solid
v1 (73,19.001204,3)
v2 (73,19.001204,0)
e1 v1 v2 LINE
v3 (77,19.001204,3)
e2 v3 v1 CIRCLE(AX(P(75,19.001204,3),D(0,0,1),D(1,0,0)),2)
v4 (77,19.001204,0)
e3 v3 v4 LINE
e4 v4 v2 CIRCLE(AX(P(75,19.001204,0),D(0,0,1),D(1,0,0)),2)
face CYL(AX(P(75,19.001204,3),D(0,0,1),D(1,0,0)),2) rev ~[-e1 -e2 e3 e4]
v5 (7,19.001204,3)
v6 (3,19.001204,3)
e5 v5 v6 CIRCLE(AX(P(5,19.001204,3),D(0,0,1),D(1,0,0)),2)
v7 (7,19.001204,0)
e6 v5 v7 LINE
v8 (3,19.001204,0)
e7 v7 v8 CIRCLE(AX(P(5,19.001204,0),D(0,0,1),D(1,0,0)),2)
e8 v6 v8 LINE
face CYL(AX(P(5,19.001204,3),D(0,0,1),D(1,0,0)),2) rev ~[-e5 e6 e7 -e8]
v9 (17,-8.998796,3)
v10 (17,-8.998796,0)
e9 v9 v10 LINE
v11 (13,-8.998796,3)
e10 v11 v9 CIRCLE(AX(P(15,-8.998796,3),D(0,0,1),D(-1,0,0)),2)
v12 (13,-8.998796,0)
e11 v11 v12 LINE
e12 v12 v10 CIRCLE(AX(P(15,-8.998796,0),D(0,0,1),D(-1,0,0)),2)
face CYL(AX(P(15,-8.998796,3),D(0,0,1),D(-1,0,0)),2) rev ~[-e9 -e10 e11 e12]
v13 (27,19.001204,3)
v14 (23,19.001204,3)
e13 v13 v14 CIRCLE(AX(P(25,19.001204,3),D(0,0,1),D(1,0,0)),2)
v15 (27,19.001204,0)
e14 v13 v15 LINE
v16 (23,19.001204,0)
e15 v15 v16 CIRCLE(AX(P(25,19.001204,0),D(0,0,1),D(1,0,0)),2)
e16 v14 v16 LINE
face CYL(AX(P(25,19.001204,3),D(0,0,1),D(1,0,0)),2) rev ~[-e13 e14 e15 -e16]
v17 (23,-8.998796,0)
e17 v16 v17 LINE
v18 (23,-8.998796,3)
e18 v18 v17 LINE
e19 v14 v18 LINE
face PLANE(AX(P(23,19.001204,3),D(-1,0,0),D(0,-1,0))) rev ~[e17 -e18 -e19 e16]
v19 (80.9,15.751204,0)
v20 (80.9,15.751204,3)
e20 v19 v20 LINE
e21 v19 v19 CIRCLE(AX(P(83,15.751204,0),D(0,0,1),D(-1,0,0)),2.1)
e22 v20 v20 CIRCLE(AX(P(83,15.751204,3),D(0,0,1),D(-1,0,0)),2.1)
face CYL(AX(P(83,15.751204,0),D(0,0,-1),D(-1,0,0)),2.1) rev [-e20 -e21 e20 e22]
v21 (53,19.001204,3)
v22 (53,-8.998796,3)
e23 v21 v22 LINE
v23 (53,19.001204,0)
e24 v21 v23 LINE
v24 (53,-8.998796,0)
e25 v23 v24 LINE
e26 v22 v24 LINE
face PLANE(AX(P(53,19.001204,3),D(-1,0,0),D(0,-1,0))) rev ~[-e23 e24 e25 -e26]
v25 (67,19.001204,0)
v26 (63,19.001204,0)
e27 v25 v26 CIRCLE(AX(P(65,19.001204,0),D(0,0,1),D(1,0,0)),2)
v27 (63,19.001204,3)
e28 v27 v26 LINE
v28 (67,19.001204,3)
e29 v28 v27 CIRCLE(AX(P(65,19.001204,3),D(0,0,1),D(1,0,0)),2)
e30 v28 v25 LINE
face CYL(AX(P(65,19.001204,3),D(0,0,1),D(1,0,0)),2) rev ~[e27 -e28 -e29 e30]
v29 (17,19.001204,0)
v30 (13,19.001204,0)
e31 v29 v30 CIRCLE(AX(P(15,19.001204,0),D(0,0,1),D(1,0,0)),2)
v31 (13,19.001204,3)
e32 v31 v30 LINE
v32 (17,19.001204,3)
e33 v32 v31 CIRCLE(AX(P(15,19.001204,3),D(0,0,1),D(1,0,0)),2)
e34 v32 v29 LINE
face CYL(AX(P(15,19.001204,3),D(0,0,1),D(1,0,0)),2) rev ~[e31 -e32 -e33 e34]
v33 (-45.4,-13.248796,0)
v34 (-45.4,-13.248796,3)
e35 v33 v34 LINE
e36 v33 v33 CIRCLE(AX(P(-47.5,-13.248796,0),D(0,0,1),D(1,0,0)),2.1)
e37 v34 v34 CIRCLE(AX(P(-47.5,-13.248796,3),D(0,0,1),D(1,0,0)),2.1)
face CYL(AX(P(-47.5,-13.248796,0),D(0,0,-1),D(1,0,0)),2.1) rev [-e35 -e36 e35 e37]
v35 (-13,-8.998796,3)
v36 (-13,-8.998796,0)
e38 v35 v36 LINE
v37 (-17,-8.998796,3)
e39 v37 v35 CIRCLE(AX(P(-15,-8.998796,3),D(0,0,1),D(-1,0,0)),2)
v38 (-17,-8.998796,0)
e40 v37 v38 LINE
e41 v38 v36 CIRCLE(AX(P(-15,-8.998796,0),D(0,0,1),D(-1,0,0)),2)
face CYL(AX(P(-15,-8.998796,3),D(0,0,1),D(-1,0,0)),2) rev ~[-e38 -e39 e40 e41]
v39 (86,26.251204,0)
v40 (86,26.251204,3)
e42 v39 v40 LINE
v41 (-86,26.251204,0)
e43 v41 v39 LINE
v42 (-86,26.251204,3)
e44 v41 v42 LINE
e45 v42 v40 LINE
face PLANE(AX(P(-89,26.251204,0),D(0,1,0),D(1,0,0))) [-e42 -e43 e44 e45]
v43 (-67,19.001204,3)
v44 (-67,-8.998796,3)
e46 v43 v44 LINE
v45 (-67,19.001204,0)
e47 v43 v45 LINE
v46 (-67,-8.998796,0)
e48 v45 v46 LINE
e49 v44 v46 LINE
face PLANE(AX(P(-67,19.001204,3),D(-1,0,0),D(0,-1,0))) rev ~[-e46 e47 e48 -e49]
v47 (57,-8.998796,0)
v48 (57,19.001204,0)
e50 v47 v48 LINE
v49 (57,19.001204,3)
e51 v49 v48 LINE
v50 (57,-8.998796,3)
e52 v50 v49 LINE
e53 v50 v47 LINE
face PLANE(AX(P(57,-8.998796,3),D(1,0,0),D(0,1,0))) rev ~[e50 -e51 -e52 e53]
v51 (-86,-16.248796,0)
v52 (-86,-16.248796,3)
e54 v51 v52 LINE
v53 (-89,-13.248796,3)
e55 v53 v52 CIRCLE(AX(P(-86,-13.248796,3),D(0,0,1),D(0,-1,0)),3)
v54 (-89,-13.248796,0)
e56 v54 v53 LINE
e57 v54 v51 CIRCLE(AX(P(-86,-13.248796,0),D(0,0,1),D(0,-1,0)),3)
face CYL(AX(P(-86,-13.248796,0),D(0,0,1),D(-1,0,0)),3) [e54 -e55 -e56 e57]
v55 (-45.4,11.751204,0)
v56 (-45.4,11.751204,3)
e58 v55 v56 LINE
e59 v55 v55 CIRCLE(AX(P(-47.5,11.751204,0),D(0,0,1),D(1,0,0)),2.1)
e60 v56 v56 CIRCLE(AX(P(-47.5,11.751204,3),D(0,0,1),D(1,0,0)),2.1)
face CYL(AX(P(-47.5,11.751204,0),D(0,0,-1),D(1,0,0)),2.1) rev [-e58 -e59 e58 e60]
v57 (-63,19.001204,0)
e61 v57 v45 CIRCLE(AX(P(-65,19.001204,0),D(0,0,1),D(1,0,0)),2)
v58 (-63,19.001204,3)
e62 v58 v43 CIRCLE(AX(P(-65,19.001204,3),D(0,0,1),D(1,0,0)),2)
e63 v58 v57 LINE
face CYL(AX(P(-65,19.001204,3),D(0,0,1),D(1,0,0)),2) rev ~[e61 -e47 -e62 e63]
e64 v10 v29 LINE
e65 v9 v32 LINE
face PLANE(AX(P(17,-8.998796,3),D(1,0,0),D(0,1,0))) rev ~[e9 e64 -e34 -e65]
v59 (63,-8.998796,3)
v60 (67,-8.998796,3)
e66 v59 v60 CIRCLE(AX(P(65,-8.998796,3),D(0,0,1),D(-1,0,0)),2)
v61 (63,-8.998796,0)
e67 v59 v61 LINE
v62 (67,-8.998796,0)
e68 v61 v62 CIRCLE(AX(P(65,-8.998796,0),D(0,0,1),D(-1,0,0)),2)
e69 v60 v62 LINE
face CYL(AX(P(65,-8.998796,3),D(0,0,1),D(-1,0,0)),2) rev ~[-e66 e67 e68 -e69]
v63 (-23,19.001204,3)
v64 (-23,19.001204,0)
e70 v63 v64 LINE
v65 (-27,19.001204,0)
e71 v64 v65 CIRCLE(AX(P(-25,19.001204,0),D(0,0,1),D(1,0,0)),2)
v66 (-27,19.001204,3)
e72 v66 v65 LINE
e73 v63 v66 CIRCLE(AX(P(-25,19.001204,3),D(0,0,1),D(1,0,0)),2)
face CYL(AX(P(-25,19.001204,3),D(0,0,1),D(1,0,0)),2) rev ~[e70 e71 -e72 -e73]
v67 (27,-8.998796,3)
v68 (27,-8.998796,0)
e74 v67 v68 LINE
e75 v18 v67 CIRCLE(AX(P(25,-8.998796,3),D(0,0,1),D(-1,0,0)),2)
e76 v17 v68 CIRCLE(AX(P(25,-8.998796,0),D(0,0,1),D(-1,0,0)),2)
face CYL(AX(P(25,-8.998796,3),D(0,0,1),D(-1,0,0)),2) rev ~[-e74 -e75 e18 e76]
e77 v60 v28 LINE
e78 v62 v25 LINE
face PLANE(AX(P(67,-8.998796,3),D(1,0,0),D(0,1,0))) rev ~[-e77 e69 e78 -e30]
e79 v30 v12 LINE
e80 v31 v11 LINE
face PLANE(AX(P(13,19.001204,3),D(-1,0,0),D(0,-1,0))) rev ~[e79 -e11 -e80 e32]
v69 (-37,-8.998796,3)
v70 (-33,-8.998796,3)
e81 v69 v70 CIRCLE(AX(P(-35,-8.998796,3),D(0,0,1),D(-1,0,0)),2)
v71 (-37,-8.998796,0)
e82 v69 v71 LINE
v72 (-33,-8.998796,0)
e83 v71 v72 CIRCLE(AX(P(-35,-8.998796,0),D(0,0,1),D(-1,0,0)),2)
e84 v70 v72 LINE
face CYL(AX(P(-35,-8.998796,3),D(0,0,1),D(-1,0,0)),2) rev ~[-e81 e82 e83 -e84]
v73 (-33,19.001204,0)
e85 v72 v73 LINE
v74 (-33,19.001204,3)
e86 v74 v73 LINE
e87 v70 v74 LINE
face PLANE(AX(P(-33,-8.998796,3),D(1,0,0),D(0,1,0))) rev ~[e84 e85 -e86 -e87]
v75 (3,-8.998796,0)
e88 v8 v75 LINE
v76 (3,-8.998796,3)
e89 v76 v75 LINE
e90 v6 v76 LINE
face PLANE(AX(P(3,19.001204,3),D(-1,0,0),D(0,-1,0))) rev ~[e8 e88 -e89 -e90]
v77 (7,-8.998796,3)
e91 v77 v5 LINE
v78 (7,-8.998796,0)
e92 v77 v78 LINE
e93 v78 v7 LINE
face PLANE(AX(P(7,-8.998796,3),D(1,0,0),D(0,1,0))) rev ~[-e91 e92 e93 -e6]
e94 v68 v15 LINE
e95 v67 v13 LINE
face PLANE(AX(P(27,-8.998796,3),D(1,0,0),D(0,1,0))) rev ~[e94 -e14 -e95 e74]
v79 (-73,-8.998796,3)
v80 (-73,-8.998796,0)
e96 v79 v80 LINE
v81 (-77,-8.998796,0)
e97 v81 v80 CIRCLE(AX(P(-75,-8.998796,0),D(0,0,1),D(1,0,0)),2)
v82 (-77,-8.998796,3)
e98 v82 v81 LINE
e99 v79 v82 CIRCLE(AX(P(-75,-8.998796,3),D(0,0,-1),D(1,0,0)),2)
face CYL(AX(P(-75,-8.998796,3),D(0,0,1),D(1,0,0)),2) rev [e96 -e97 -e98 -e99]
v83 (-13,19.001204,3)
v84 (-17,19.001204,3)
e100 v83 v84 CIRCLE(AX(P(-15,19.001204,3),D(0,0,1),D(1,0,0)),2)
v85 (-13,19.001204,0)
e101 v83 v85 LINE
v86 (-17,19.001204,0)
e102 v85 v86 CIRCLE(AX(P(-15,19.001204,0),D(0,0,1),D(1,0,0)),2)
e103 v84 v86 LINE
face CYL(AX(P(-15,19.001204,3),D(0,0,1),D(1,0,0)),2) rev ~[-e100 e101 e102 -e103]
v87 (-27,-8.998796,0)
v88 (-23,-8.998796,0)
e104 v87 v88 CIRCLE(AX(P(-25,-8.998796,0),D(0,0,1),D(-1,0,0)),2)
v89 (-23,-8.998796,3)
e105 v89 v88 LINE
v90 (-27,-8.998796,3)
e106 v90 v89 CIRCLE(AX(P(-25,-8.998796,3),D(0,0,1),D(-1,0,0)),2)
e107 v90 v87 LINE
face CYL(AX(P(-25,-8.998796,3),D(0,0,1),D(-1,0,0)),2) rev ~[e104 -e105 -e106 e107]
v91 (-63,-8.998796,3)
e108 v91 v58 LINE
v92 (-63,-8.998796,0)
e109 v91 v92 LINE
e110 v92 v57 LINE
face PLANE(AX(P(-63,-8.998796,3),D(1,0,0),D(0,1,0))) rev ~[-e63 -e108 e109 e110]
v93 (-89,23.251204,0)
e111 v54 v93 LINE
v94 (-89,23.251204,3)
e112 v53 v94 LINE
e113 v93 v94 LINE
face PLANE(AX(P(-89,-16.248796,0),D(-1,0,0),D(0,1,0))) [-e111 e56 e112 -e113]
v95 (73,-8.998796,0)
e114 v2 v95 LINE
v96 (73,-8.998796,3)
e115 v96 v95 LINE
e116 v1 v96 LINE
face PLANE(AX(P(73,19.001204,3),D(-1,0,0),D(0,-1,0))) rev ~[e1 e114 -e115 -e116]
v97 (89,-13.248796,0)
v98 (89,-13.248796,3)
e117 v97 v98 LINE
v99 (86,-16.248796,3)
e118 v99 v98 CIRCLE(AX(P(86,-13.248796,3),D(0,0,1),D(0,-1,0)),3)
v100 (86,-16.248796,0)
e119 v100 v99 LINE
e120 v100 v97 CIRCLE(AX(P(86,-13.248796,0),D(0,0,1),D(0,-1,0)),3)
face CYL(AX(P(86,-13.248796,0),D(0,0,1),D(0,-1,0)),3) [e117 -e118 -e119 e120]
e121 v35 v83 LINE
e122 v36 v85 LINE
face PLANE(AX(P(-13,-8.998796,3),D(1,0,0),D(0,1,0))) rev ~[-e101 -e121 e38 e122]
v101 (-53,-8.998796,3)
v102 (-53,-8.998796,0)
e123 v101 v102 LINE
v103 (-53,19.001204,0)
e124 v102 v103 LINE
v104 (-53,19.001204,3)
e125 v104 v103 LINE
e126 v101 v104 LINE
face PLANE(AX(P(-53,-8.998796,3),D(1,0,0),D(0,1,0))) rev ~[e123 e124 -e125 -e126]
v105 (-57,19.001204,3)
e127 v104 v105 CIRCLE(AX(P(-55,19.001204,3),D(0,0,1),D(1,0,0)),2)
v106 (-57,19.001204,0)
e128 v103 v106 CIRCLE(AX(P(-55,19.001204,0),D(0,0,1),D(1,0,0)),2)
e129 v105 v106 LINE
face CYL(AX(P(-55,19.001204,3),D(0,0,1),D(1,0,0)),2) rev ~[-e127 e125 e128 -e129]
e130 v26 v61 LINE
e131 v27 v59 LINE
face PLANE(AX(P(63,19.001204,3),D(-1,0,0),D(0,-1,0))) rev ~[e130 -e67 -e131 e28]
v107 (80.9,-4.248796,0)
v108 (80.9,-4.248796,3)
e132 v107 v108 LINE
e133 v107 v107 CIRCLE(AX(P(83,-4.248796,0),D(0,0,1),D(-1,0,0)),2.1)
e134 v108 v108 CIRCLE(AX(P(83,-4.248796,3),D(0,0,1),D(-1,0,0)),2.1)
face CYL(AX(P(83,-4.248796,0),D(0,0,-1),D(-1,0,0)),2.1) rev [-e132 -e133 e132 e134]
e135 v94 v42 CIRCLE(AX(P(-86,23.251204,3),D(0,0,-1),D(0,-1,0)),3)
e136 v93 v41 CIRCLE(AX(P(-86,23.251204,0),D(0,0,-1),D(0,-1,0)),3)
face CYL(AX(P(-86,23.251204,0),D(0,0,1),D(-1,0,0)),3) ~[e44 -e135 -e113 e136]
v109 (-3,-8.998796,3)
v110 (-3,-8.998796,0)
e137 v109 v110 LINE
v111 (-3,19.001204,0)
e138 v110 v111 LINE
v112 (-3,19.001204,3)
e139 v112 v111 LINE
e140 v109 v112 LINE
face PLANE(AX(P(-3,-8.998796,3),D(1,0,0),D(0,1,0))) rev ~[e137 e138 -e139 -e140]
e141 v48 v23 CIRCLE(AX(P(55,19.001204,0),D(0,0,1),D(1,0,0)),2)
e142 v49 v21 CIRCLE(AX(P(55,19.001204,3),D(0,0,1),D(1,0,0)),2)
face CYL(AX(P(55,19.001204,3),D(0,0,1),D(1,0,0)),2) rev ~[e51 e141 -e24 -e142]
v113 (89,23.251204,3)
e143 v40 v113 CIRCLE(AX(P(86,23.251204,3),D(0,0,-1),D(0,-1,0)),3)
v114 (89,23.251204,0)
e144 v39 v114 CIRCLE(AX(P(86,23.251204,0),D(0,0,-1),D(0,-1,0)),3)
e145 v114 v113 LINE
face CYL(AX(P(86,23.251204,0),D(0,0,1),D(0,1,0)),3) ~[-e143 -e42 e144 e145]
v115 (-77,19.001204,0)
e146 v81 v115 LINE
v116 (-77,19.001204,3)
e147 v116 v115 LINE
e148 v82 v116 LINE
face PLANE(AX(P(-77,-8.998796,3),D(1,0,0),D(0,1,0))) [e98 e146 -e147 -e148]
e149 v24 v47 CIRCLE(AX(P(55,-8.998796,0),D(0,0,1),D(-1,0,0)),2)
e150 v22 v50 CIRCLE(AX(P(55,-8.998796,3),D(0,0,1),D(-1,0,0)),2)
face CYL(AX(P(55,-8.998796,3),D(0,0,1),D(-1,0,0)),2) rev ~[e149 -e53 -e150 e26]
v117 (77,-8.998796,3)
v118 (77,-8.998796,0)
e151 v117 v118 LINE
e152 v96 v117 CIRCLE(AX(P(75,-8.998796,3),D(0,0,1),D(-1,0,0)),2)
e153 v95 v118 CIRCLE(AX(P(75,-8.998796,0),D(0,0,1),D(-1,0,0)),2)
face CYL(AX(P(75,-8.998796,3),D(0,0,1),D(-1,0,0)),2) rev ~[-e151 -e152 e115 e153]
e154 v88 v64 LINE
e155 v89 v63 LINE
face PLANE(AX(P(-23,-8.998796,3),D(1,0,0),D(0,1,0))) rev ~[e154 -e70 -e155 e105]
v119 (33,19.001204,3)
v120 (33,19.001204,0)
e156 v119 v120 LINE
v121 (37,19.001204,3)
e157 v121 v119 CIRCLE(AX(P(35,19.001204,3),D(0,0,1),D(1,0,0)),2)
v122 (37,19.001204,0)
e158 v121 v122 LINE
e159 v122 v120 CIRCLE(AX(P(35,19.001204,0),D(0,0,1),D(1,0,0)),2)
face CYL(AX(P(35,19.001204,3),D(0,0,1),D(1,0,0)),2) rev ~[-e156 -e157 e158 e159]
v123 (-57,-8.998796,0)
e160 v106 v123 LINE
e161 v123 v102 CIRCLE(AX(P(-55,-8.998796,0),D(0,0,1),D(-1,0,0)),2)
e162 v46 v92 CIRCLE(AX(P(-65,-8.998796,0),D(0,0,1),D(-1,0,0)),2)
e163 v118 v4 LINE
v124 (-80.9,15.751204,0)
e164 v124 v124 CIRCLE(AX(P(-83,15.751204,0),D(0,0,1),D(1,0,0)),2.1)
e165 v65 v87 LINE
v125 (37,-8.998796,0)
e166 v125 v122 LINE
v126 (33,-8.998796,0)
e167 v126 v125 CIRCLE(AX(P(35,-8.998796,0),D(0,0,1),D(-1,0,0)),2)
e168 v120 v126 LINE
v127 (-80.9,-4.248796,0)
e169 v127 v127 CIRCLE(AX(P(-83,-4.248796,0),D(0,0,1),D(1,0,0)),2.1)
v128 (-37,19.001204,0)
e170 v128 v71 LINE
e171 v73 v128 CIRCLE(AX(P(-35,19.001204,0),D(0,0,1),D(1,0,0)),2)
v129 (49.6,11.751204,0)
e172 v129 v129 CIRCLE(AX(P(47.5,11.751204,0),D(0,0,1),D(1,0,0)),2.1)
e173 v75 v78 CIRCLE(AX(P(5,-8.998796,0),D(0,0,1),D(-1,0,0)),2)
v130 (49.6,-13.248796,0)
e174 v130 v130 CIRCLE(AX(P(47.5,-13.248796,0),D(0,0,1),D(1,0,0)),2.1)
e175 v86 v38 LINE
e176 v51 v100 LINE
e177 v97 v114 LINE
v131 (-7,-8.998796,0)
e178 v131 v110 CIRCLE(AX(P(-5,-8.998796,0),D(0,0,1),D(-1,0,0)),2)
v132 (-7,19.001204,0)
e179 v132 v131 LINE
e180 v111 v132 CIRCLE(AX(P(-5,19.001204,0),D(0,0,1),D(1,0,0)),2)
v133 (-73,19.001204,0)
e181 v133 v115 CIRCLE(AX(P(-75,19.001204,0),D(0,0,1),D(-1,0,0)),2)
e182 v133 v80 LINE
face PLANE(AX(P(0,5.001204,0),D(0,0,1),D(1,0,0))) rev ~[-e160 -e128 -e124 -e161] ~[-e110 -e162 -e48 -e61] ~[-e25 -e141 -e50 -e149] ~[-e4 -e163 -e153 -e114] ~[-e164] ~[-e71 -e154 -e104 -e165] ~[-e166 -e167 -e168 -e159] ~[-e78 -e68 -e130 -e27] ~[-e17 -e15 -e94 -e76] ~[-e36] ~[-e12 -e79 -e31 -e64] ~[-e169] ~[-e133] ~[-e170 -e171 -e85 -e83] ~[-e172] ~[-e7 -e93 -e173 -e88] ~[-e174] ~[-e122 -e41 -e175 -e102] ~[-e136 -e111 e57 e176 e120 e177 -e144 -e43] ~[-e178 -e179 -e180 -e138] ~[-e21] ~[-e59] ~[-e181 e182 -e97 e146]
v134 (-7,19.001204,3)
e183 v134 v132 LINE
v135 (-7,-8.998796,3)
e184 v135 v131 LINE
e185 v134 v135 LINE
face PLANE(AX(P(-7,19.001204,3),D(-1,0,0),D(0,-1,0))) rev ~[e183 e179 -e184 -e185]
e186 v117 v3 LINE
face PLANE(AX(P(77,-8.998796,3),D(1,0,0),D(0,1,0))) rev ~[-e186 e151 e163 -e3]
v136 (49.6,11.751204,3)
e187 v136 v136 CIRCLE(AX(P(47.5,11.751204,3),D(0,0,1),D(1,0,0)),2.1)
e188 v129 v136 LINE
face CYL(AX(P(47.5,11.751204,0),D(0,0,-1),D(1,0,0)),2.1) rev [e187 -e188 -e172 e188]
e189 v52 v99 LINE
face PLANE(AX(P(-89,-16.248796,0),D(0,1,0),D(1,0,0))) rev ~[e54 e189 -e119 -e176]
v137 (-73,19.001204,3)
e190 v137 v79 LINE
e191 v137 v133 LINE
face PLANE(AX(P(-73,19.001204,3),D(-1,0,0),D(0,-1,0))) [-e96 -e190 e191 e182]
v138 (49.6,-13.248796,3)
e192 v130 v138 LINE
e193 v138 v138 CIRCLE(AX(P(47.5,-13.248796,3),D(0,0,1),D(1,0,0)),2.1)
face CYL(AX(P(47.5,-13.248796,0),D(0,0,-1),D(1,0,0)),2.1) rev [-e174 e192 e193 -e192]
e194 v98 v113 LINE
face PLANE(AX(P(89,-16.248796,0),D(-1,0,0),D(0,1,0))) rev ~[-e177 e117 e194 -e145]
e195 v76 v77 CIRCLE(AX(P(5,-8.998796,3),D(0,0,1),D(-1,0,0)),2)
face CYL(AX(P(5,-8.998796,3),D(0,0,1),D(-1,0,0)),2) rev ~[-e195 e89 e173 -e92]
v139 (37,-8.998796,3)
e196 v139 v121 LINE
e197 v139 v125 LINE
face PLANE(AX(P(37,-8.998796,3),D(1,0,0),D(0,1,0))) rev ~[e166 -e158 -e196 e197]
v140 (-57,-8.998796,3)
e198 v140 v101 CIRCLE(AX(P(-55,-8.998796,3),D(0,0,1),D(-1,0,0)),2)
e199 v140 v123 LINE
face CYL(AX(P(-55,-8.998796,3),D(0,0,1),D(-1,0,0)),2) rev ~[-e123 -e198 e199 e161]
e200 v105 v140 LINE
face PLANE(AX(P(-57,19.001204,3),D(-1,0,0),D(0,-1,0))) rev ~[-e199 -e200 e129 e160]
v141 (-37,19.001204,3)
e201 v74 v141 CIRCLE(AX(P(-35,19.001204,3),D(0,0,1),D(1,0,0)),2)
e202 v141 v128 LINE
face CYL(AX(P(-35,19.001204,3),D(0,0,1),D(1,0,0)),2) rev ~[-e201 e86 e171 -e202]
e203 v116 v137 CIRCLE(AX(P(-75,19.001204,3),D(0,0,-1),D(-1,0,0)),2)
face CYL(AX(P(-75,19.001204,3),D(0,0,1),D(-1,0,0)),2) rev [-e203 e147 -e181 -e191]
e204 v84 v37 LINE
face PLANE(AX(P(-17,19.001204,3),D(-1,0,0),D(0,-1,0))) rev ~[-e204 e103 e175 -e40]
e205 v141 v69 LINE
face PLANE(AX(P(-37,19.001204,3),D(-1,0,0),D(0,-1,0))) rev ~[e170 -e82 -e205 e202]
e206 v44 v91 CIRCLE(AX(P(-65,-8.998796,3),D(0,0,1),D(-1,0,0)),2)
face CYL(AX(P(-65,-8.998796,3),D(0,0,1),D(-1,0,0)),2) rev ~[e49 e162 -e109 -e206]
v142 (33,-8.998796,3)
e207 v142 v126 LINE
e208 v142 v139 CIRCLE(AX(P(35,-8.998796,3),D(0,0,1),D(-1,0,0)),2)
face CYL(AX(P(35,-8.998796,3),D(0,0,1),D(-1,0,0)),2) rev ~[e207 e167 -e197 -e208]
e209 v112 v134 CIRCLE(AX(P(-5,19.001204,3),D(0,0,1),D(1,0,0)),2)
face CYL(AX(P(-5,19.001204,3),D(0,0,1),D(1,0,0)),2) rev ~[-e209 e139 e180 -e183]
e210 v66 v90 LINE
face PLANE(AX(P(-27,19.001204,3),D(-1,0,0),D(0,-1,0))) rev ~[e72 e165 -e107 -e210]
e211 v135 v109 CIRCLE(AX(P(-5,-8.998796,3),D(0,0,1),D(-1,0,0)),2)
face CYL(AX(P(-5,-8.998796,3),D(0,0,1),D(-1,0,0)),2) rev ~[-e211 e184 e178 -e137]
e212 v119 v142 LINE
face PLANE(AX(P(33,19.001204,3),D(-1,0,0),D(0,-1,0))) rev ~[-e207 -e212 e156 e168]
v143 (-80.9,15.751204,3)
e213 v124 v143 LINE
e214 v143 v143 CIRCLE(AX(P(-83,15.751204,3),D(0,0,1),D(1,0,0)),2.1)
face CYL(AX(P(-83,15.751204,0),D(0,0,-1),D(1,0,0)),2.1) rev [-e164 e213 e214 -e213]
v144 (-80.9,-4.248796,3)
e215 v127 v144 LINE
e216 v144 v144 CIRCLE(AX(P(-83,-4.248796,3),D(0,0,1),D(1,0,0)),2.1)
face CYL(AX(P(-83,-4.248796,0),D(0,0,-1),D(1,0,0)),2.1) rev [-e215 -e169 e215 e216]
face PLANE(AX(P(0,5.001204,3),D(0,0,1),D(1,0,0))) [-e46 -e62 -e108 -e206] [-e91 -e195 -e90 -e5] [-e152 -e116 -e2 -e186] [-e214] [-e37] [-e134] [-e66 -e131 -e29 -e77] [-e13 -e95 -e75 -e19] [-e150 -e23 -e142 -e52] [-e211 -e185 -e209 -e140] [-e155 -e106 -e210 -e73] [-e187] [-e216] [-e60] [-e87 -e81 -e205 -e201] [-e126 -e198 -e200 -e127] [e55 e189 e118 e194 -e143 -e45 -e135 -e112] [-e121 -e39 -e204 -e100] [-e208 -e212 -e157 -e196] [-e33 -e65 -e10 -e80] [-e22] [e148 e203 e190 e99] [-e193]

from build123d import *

# Parameters (mm, degrees)
SKETCH_1_W          = 178
SKETCH_1_H          = 42.5
SKETCH_1_R          = 2.1
EXTRUDE_1_DEPTH     = 3
FILLET_1_R          = 3
CUT_EXTRUDE_1_DEPTH = 10


with BuildPart() as part:
    # 草图1 → 凸台-拉伸1 (new body)
    with BuildSketch(Plane.XY):
        with Locations((0, 5.001204258)):
            Rectangle(SKETCH_1_W, SKETCH_1_H)
        with Locations((-83, 15.751204258)):
            Circle(SKETCH_1_R, mode=Mode.SUBTRACT)
        with Locations((-83, -4.248795742)):
            Circle(SKETCH_1_R, mode=Mode.SUBTRACT)
        with Locations((-47.5, 11.751204258)):
            Circle(SKETCH_1_R, mode=Mode.SUBTRACT)
        with Locations((47.5, 11.751204258)):
            Circle(SKETCH_1_R, mode=Mode.SUBTRACT)
        with Locations((47.5, -13.248795742)):
            Circle(SKETCH_1_R, mode=Mode.SUBTRACT)
        with Locations((-47.5, -13.248795742)):
            Circle(SKETCH_1_R, mode=Mode.SUBTRACT)
        with Locations(Location((83, -4.248795742, 0), (0, 0, 180))):
            Circle(SKETCH_1_R, mode=Mode.SUBTRACT)
        with Locations(Location((83, 15.751204258, 0), (0, 0, 180))):
            Circle(SKETCH_1_R, mode=Mode.SUBTRACT)
    extrude(amount=EXTRUDE_1_DEPTH)

    # 圆角1
    fillet_1_edges = [part.edges().sort_by_distance(p)[0] for p in [
        (-89, 26.251204258, 1.5),
        (89, 26.251204258, 1.5),
        (89, -16.248795742, 1.5),
        (-89, -16.248795742, 1.5),
    ]]
    fillet(fillet_1_edges, radius=FILLET_1_R)

    # 草图2 → 切除-拉伸1 (cut)
    with BuildSketch(Plane.XY.offset(3)):
        with BuildLine():
            Line((-73, 19.001204258), (-73, -8.998795742))
            ThreePointArc((-73, -8.998795742), (-75, -10.998795742), (-77, -8.998795742))
            Line((-77, -8.998795742), (-77, 19.001204258))
            ThreePointArc((-77, 19.001204258), (-75, 21.001204258), (-73, 19.001204258))
        make_face()
        with BuildLine():
            Line((-67, 19.001204258), (-67, -8.998795742))
            ThreePointArc((-67, -8.998795742), (-65, -10.998795742), (-63, -8.998795742))
            Line((-63, -8.998795742), (-63, 19.001204258))
            ThreePointArc((-63, 19.001204258), (-65, 21.001204258), (-67, 19.001204258))
        make_face()
        with BuildLine():
            Line((-57, 19.001204258), (-57, -8.998795742))
            ThreePointArc((-57, -8.998795742), (-55, -10.998795742), (-53, -8.998795742))
            Line((-53, -8.998795742), (-53, 19.001204258))
            ThreePointArc((-53, 19.001204258), (-55, 21.001204258), (-57, 19.001204258))
        make_face()
        with BuildLine():
            Line((-37, 19.001204258), (-37, -8.998795742))
            ThreePointArc((-37, -8.998795742), (-35, -10.998795742), (-33, -8.998795742))
            Line((-33, -8.998795742), (-33, 19.001204258))
            ThreePointArc((-33, 19.001204258), (-35, 21.001204258), (-37, 19.001204258))
        make_face()
        with BuildLine():
            Line((-27, 19.001204258), (-27, -8.998795742))
            ThreePointArc((-27, -8.998795742), (-25, -10.998795742), (-23, -8.998795742))
            Line((-23, -8.998795742), (-23, 19.001204258))
            ThreePointArc((-23, 19.001204258), (-25, 21.001204258), (-27, 19.001204258))
        make_face()
        with BuildLine():
            Line((-17, 19.001204258), (-17, -8.998795742))
            ThreePointArc((-17, -8.998795742), (-15, -10.998795742), (-13, -8.998795742))
            Line((-13, -8.998795742), (-13, 19.001204258))
            ThreePointArc((-13, 19.001204258), (-15, 21.001204258), (-17, 19.001204258))
        make_face()
        with BuildLine():
            Line((-7, 19.001204258), (-7, -8.998795742))
            ThreePointArc((-7, -8.998795742), (-5, -10.998795742), (-3, -8.998795742))
            Line((-3, -8.998795742), (-3, 19.001204258))
            ThreePointArc((-3, 19.001204258), (-5, 21.001204258), (-7, 19.001204258))
        make_face()
        with BuildLine():
            Line((3, 19.001204258), (3, -8.998795742))
            ThreePointArc((3, -8.998795742), (5, -10.998795742), (7, -8.998795742))
            Line((7, -8.998795742), (7, 19.001204258))
            ThreePointArc((7, 19.001204258), (5, 21.001204258), (3, 19.001204258))
        make_face()
        with BuildLine():
            Line((13, 19.001204258), (13, -8.998795742))
            ThreePointArc((13, -8.998795742), (15, -10.998795742), (17, -8.998795742))
            Line((17, -8.998795742), (17, 19.001204258))
            ThreePointArc((17, 19.001204258), (15, 21.001204258), (13, 19.001204258))
        make_face()
        with BuildLine():
            Line((23, 19.001204258), (23, -8.998795742))
            ThreePointArc((23, -8.998795742), (25, -10.998795742), (27, -8.998795742))
            Line((27, -8.998795742), (27, 19.001204258))
            ThreePointArc((27, 19.001204258), (25, 21.001204258), (23, 19.001204258))
        make_face()
        with BuildLine():
            Line((33, 19.001204258), (33, -8.998795742))
            ThreePointArc((33, -8.998795742), (35, -10.998795742), (37, -8.998795742))
            Line((37, -8.998795742), (37, 19.001204258))
            ThreePointArc((37, 19.001204258), (35, 21.001204258), (33, 19.001204258))
        make_face()
        with BuildLine():
            Line((53, 19.001204258), (53, -8.998795742))
            ThreePointArc((53, -8.998795742), (55, -10.998795742), (57, -8.998795742))
            Line((57, -8.998795742), (57, 19.001204258))
            ThreePointArc((57, 19.001204258), (55, 21.001204258), (53, 19.001204258))
        make_face()
        with BuildLine():
            Line((63, 19.001204258), (63, -8.998795742))
            ThreePointArc((63, -8.998795742), (65, -10.998795742), (67, -8.998795742))
            Line((67, -8.998795742), (67, 19.001204258))
            ThreePointArc((67, 19.001204258), (65, 21.001204258), (63, 19.001204258))
        make_face()
        with BuildLine():
            Line((73, 19.001204258), (73, -8.998795742))
            ThreePointArc((73, -8.998795742), (75, -10.998795742), (77, -8.998795742))
            Line((77, -8.998795742), (77, 19.001204258))
            ThreePointArc((77, 19.001204258), (75, 21.001204258), (73, 19.001204258))
        make_face()
    extrude(amount=-CUT_EXTRUDE_1_DEPTH, mode=Mode.SUBTRACT)


solid = part.part
